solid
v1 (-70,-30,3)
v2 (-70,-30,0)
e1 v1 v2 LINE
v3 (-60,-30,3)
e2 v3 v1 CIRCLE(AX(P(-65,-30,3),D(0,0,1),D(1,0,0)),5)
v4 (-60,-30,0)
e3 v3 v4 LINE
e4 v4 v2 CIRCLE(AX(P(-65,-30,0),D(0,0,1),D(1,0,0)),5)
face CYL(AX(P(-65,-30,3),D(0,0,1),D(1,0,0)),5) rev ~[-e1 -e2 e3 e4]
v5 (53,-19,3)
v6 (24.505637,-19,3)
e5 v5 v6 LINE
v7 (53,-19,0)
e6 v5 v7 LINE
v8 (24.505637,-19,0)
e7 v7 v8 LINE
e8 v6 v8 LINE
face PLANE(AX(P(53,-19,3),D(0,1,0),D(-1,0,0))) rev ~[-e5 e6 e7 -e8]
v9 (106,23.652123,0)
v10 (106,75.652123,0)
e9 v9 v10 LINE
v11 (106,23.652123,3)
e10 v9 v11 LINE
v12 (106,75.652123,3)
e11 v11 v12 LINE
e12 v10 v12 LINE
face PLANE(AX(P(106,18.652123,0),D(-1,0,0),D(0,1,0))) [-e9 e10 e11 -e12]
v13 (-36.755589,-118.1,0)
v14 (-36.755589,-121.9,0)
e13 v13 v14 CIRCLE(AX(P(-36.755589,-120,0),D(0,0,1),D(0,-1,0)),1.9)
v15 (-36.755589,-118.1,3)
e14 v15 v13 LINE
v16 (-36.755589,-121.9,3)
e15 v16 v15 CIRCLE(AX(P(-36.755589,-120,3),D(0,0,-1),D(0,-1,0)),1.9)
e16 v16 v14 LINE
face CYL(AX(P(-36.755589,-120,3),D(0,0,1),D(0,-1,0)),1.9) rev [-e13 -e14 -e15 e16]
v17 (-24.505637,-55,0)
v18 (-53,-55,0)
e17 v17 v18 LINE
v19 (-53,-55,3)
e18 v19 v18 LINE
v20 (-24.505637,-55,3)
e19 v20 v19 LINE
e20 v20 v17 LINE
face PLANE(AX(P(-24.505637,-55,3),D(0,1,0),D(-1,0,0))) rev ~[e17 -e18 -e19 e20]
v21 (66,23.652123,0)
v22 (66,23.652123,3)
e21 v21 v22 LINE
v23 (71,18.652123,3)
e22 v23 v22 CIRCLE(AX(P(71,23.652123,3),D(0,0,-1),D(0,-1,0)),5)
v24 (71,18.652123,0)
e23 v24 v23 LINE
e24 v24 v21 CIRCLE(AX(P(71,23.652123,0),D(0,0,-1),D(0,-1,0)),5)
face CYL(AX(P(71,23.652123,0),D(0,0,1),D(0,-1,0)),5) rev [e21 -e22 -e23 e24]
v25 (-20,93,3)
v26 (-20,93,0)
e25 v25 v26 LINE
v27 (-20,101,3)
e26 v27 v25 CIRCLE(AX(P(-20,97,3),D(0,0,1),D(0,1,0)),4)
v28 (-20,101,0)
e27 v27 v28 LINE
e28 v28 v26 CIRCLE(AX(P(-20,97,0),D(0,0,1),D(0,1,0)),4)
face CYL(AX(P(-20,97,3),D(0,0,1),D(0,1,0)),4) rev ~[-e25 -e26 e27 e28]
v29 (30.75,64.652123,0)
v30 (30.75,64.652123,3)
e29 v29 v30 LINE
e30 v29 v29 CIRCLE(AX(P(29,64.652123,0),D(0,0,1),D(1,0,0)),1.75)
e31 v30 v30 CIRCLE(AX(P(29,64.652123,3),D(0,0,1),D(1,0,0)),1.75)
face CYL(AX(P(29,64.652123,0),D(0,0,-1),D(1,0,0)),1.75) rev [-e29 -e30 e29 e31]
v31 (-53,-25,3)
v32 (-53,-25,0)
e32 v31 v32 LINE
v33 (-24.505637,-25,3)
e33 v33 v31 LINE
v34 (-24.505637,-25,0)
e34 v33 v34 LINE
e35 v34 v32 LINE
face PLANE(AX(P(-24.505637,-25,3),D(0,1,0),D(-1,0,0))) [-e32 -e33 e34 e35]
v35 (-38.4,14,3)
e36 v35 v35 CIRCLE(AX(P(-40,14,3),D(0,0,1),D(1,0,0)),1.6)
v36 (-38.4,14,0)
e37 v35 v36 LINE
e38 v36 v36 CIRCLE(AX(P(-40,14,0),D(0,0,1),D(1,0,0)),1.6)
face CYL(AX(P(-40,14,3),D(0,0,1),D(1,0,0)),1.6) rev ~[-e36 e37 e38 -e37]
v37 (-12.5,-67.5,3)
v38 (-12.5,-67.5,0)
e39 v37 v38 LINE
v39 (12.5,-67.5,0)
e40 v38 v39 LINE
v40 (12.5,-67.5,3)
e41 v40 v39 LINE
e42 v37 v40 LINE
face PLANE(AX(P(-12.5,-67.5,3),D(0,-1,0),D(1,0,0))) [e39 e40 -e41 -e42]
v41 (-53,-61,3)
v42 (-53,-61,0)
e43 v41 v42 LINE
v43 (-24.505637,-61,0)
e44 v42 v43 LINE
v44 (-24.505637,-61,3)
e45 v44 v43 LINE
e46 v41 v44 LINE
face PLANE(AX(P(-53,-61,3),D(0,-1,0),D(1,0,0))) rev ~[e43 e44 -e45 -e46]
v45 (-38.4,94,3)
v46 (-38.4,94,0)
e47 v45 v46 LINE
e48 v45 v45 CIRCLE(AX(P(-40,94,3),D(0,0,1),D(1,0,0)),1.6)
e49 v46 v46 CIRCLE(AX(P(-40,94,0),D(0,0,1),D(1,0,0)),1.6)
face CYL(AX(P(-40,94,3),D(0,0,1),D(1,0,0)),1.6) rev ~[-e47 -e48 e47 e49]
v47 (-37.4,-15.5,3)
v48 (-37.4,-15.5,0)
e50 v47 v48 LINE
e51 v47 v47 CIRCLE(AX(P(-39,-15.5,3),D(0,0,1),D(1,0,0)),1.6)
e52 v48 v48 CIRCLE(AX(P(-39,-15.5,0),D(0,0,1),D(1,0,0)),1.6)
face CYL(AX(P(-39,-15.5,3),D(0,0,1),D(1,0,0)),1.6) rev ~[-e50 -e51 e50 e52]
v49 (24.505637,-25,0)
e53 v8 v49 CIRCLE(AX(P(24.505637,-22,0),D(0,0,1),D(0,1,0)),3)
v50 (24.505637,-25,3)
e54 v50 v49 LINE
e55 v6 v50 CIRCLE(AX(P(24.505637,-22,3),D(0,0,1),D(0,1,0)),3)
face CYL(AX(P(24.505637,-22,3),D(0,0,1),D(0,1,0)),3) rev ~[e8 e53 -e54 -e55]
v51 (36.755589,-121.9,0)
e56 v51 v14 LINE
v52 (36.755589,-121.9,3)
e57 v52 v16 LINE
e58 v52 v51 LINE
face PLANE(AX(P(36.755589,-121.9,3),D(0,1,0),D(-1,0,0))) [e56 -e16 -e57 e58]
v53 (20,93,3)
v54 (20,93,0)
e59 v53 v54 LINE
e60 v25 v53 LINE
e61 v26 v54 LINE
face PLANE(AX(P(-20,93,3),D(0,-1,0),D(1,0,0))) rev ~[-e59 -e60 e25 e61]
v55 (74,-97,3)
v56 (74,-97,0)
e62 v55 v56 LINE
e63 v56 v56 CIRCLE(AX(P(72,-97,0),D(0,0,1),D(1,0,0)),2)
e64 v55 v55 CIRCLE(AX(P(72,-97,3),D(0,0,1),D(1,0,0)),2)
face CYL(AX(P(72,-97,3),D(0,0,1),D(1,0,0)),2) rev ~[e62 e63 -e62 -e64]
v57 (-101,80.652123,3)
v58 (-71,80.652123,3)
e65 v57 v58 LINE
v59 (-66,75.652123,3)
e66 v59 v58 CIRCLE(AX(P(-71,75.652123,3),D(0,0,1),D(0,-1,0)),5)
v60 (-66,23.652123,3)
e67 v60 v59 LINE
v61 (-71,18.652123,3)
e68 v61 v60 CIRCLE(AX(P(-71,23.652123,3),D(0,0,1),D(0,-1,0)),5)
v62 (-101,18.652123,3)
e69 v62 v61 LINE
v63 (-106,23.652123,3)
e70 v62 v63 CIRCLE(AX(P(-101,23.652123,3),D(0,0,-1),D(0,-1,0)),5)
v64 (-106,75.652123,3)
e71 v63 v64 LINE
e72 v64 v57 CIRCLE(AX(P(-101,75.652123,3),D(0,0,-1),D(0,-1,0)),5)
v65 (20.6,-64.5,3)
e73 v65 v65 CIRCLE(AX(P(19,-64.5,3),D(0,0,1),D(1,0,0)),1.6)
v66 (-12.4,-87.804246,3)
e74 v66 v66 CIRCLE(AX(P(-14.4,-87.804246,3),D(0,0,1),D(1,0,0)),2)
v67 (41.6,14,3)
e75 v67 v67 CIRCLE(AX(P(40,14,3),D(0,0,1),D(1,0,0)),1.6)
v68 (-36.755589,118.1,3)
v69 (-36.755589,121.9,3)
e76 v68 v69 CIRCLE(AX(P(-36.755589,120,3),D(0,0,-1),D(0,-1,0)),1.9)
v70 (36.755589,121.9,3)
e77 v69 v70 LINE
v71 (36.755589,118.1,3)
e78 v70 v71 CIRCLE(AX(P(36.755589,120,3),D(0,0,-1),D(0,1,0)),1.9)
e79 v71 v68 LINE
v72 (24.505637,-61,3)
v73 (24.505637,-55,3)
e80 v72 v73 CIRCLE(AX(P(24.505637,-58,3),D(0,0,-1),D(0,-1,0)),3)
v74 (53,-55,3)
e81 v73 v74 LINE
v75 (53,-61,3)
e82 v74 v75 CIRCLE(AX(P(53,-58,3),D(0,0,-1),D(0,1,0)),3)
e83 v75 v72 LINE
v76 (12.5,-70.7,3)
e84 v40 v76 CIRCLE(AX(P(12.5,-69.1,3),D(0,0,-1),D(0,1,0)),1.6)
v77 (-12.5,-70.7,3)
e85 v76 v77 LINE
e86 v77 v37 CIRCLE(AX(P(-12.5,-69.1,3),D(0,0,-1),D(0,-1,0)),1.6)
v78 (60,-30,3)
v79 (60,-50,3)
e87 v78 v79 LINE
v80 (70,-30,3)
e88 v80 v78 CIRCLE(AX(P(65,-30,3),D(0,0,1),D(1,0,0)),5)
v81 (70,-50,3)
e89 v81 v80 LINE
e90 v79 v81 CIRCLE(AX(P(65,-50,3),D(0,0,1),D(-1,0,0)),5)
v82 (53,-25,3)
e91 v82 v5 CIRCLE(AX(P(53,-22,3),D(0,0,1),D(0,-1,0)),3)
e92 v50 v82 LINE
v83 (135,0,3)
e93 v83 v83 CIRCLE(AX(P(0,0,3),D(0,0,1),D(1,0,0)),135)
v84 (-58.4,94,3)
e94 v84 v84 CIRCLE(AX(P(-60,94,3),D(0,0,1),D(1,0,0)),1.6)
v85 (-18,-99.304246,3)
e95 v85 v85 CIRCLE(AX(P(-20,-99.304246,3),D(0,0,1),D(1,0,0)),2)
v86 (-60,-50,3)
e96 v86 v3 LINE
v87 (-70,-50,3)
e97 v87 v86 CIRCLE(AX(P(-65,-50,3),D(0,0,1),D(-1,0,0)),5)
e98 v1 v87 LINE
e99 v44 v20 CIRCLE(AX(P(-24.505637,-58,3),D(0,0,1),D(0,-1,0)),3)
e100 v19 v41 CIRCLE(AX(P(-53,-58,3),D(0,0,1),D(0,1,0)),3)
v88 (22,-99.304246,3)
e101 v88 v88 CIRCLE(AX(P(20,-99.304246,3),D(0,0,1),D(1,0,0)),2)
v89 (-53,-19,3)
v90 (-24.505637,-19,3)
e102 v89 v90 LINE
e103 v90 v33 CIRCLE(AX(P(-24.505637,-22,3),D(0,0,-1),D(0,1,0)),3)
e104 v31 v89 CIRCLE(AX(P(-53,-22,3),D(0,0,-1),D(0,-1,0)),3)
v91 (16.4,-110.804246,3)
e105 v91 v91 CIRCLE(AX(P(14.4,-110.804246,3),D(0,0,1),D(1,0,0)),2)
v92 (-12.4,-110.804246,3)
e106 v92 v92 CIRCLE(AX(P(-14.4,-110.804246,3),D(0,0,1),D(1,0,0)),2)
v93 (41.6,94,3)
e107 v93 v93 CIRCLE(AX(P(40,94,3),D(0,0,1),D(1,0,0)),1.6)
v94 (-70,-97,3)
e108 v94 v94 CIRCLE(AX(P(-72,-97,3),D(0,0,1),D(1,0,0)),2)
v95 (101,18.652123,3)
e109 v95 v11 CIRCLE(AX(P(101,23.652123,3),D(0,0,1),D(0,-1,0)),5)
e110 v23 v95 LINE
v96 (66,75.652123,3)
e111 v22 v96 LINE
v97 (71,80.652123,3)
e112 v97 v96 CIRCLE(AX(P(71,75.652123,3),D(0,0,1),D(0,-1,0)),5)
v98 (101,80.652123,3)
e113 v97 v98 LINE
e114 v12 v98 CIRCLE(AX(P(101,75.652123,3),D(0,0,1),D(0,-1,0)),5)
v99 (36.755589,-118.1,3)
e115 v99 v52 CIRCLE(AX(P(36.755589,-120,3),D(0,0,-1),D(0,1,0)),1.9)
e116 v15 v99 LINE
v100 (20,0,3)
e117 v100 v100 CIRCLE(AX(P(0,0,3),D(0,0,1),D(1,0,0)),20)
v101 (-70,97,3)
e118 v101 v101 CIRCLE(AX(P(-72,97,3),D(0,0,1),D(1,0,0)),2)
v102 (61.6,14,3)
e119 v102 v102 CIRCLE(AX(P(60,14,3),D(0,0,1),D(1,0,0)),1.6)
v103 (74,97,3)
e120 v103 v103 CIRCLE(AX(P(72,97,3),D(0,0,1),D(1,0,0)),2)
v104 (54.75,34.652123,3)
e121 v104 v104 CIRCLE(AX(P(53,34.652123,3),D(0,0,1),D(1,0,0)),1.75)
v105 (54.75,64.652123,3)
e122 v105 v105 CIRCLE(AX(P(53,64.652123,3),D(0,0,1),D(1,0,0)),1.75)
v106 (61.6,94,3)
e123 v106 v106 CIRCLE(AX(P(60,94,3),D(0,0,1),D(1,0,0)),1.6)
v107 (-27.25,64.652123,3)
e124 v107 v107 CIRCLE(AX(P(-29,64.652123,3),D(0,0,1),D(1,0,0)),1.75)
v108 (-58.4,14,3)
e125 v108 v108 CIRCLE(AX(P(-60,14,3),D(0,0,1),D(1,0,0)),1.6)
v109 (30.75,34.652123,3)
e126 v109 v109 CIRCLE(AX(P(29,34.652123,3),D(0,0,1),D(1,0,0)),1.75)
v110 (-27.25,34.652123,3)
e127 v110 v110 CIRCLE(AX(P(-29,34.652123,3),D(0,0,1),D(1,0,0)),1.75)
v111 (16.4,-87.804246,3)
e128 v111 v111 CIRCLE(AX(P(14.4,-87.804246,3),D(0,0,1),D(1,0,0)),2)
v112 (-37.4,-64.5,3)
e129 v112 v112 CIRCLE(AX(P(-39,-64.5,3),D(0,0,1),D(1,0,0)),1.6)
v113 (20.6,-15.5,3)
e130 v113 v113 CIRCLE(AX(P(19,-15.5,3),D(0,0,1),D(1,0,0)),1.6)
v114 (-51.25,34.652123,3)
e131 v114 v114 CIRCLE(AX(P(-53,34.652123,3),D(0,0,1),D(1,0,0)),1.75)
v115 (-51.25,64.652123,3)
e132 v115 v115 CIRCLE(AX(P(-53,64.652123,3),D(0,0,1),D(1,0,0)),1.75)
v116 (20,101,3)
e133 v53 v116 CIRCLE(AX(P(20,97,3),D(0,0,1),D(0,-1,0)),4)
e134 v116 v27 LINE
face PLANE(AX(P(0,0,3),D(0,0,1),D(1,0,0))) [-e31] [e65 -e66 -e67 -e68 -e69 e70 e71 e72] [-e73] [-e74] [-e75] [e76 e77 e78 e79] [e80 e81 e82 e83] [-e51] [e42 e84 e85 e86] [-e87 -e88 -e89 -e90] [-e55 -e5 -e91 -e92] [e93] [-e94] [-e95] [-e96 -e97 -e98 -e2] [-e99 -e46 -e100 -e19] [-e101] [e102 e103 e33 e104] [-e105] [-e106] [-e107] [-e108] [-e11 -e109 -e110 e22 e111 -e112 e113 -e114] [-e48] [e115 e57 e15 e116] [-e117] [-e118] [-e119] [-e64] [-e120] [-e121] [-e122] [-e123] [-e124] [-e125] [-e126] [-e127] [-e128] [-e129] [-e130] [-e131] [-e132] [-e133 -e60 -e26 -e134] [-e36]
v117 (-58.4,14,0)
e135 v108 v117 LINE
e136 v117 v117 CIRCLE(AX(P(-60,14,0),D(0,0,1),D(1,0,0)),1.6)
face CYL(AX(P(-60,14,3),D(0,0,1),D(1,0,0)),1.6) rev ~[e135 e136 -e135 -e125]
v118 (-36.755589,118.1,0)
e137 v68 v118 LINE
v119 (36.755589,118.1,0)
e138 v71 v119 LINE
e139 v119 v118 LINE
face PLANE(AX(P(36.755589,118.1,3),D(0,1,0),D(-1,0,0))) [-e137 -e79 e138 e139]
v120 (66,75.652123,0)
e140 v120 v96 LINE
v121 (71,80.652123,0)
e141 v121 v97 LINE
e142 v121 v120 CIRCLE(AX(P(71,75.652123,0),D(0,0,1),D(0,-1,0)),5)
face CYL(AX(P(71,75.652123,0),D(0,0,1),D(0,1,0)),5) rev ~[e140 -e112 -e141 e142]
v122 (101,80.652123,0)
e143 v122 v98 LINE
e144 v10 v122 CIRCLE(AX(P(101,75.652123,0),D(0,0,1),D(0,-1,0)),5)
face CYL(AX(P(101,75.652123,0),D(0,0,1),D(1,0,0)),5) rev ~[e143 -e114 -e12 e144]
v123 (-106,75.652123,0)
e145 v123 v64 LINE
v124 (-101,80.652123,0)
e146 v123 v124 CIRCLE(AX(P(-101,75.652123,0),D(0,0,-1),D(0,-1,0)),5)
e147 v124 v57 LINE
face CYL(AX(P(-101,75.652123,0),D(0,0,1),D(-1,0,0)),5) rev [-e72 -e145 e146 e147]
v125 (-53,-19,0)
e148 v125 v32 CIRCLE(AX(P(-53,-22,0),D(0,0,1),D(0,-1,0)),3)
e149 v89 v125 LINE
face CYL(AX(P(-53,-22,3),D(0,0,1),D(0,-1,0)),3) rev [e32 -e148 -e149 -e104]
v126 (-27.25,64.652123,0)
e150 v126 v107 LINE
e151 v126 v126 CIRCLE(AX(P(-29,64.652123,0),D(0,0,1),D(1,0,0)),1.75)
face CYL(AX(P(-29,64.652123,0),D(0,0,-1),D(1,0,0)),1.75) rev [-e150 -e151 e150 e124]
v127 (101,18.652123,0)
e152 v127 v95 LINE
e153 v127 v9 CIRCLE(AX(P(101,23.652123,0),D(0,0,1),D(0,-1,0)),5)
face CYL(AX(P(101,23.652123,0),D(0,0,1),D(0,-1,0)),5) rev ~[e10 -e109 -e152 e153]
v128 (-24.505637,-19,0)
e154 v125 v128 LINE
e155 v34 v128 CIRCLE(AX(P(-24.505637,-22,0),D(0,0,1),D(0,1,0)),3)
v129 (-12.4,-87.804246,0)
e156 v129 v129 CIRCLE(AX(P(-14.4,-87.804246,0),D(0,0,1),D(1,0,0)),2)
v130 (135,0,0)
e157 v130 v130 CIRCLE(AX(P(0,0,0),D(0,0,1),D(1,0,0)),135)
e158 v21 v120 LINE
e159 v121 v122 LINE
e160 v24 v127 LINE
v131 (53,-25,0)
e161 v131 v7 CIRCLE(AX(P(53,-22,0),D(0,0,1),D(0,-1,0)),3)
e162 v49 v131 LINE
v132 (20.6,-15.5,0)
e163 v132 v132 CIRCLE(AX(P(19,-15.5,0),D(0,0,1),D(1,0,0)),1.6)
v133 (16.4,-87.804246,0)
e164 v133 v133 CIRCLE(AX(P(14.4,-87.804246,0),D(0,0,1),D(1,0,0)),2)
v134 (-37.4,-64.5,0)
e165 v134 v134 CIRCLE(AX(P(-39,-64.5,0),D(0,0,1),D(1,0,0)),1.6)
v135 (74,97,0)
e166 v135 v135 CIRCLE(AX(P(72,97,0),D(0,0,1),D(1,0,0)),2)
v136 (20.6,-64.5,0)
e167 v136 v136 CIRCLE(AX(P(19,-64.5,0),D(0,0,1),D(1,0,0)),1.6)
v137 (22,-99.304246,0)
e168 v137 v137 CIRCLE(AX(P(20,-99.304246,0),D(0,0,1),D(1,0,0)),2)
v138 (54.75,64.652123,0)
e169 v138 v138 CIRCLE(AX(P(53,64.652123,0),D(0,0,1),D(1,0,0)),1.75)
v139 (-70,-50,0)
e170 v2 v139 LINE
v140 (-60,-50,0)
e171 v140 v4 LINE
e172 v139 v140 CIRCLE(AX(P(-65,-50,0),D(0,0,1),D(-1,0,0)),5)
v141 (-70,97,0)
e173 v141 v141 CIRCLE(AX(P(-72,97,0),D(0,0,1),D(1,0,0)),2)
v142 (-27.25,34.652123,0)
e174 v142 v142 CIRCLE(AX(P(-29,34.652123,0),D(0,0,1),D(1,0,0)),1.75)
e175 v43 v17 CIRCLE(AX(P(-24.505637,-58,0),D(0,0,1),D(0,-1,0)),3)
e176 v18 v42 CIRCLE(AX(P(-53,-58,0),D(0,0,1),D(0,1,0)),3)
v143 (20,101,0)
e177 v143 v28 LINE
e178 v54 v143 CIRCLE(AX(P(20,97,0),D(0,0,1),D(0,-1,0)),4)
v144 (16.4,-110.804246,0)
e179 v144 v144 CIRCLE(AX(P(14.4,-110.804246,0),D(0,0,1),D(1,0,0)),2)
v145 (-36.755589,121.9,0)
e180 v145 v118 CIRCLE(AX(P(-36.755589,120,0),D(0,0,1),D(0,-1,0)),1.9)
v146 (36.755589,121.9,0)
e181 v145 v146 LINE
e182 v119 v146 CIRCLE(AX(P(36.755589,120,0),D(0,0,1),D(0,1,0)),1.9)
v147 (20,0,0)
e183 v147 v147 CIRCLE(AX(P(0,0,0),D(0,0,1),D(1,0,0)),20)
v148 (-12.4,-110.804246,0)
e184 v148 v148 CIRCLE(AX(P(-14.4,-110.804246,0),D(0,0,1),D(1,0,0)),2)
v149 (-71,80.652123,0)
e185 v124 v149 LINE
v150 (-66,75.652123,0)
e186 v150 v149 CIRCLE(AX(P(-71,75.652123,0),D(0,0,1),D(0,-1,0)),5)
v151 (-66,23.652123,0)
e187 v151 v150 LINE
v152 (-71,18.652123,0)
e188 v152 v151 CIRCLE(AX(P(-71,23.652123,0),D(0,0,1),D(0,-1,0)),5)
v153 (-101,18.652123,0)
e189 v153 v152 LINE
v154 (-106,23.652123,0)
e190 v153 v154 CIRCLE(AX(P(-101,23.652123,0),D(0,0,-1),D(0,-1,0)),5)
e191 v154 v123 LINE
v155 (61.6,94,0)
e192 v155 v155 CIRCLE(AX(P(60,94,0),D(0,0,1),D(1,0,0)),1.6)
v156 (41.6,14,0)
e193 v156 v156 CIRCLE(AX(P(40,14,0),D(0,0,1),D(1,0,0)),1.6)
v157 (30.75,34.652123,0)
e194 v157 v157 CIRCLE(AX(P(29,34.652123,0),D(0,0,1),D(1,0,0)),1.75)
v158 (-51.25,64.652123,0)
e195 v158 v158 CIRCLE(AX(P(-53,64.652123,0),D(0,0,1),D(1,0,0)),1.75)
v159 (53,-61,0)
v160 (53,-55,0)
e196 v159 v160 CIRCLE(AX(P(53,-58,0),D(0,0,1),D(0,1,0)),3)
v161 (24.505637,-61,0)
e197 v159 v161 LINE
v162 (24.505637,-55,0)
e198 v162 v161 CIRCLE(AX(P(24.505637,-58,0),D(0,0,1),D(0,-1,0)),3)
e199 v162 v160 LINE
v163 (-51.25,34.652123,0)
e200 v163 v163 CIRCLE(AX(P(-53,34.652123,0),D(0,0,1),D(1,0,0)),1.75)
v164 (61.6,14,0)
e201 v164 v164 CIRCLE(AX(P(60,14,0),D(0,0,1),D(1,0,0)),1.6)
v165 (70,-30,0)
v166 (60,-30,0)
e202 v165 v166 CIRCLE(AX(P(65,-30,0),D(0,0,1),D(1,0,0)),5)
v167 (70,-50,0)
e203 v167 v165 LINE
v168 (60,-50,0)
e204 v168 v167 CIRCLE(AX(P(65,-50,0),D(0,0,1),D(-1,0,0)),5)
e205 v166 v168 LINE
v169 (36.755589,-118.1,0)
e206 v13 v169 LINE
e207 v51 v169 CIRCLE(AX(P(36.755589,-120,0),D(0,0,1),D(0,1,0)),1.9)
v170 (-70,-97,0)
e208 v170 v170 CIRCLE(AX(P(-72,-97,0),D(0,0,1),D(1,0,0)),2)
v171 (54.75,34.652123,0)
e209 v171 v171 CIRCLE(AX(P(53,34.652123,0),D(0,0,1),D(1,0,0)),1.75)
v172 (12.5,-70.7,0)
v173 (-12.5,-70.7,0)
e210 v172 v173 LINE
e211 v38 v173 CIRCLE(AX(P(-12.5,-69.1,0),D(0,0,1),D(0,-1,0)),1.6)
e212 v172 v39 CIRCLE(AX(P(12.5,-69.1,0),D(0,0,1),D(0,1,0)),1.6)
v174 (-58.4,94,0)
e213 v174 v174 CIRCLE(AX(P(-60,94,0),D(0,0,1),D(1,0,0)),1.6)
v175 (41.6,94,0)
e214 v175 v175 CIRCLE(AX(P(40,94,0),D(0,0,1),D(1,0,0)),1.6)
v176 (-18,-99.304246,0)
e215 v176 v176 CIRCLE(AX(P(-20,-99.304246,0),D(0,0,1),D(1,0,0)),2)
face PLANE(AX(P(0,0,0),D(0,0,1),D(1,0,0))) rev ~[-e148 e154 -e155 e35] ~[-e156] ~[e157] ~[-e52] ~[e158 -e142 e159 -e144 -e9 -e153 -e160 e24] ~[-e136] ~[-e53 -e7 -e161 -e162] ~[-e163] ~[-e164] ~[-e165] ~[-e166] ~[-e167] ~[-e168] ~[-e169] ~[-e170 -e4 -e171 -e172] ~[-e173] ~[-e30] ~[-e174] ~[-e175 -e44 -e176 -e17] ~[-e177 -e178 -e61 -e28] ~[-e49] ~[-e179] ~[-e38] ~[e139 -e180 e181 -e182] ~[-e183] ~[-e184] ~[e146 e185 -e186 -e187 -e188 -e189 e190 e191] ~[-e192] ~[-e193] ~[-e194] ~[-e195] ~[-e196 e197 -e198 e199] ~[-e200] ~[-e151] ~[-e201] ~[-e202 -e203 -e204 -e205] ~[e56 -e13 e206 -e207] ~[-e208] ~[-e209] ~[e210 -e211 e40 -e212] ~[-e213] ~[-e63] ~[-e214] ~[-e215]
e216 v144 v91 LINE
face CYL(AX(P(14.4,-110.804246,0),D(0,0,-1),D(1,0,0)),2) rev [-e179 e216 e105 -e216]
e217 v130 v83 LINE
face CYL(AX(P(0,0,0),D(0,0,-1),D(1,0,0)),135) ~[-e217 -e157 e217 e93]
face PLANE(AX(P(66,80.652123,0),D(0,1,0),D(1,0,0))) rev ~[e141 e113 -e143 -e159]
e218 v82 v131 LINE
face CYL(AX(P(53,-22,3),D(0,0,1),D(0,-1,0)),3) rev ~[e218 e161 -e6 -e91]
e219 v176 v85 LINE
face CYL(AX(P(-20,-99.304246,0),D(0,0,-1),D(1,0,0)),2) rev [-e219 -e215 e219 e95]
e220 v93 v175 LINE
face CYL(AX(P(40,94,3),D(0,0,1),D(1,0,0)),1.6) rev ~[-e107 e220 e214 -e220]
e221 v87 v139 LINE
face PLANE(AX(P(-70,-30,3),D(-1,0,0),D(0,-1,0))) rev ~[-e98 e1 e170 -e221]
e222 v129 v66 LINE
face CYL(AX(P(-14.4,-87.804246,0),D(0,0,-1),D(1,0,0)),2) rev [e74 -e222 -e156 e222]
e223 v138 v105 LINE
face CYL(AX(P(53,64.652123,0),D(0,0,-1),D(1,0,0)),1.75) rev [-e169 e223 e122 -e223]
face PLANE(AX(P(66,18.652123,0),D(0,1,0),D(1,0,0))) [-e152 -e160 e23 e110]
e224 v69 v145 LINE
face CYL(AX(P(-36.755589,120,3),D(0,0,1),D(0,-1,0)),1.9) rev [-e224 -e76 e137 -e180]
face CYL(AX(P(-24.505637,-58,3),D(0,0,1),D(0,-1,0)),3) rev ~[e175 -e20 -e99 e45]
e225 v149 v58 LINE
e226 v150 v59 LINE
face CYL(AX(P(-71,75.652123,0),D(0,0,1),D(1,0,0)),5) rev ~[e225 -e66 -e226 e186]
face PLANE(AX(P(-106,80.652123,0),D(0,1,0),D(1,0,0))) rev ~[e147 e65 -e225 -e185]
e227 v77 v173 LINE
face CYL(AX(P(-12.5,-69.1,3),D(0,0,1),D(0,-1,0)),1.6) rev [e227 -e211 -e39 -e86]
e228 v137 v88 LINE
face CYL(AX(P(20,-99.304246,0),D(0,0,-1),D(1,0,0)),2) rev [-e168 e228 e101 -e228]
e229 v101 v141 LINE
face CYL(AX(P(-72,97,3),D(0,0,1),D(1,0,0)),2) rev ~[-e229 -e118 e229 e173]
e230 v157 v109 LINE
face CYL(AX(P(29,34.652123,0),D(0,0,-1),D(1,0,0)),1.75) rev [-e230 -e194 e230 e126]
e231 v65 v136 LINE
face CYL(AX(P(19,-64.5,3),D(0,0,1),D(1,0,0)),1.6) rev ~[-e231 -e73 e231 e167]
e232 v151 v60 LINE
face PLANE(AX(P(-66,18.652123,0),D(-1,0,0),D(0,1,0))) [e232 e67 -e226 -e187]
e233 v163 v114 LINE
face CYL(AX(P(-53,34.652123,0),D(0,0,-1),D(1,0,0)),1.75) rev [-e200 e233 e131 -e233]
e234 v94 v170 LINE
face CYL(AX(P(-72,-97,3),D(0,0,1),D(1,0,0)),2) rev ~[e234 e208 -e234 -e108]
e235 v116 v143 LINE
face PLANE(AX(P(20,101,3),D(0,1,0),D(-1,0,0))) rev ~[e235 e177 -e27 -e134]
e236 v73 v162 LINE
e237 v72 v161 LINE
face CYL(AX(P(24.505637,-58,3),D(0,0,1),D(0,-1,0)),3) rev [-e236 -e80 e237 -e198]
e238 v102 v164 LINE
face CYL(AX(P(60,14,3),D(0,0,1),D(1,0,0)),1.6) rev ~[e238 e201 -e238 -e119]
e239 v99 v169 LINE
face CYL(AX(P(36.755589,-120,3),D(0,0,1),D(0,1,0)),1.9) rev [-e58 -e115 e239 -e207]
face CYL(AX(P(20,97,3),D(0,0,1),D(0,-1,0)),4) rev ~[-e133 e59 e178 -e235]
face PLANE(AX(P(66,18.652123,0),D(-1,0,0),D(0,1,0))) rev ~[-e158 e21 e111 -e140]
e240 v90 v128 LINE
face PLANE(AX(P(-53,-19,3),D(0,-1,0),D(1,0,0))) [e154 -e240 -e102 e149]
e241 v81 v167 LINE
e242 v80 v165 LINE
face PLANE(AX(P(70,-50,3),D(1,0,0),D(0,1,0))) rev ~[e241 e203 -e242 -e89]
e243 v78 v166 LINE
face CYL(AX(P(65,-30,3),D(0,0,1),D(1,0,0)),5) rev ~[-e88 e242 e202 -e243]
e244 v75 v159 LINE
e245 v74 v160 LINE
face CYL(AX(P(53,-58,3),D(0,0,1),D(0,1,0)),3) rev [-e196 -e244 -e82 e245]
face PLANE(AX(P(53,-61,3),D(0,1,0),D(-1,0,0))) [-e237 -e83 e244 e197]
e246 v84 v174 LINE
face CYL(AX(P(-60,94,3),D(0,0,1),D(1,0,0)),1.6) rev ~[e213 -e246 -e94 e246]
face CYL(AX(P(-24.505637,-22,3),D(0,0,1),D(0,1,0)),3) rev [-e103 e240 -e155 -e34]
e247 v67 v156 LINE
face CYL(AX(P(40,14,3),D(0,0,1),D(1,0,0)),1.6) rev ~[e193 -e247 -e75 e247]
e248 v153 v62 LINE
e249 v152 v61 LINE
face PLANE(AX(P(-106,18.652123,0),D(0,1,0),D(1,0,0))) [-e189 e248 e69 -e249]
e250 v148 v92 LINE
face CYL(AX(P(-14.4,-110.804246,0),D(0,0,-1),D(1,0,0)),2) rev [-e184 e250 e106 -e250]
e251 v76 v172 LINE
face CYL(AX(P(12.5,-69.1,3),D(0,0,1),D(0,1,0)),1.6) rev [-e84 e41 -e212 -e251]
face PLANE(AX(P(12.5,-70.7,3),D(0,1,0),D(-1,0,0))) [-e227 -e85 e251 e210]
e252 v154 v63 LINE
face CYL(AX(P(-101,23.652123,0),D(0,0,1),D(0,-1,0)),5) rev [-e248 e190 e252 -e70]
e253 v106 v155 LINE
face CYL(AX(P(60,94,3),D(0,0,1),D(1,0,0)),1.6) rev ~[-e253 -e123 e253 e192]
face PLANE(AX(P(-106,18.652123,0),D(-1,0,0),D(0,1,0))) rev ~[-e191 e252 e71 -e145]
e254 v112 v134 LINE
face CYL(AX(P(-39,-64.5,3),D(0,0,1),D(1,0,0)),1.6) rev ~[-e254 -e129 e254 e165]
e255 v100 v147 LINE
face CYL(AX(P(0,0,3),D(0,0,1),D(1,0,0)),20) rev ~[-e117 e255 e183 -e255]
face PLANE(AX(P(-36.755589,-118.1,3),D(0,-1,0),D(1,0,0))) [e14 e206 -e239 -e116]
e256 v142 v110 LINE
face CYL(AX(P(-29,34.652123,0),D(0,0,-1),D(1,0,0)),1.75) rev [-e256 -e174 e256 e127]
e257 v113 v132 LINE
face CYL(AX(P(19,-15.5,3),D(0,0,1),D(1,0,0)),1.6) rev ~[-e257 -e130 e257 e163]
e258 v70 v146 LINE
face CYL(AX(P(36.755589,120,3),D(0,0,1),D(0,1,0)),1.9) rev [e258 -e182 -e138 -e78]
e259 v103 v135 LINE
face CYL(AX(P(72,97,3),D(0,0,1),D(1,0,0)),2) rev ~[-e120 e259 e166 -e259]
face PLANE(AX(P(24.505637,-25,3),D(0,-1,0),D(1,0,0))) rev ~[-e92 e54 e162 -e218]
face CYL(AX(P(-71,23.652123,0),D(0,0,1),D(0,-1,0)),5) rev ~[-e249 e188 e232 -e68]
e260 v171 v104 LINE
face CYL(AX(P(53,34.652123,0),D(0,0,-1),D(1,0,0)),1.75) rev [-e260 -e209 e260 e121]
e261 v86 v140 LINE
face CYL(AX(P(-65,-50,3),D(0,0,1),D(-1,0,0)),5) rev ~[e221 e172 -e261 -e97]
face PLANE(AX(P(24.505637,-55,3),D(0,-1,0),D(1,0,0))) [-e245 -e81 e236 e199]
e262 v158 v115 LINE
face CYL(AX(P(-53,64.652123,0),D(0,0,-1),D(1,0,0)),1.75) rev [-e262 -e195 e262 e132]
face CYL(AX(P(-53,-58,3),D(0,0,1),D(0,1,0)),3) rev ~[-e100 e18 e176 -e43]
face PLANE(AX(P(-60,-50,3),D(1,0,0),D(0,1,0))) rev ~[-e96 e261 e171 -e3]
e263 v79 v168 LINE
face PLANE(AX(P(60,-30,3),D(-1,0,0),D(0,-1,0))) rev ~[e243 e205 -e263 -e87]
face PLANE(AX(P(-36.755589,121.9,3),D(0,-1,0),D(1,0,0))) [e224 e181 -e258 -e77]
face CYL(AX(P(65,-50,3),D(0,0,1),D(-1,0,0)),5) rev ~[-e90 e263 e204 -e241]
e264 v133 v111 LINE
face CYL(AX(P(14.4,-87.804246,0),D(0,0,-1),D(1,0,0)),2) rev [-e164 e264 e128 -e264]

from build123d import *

# Parameters (mm, degrees)
SKETCH_1_R          = 135
SKETCH_1_R_2        = 2
SKETCH_1_W          = 40
SKETCH_1_H          = 62
SKETCH_1_R_3        = 1.75
EXTRUDE_1_DEPTH     = 3
FILLET_1_R          = 5
SKETCH_2_R          = 20
SKETCH_2_R_2        = 2
SKETCH_2_R_3        = 1.6
CUT_EXTRUDE_1_DEPTH = 10


with BuildPart() as part:
    # 草图1 → 凸台-拉伸1 (new body)
    with BuildSketch(Plane.XY):
        Circle(SKETCH_1_R)
        with Locations((-14.4, -110.804246301)):
            Circle(SKETCH_1_R_2, mode=Mode.SUBTRACT)
        with Locations((-20, -99.304246301)):
            Circle(SKETCH_1_R_2, mode=Mode.SUBTRACT)
        with Locations((-14.4, -87.804246301)):
            Circle(SKETCH_1_R_2, mode=Mode.SUBTRACT)
        with Locations((14.4, -110.804246301)):
            Circle(SKETCH_1_R_2, mode=Mode.SUBTRACT)
        with Locations((14.4, -87.804246301)):
            Circle(SKETCH_1_R_2, mode=Mode.SUBTRACT)
        with Locations((20, -99.304246301)):
            Circle(SKETCH_1_R_2, mode=Mode.SUBTRACT)
        with Locations((-86, 49.65212315)):
            Rectangle(SKETCH_1_W, SKETCH_1_H, mode=Mode.SUBTRACT)
        with Locations((-53, 34.65212315)):
            Circle(SKETCH_1_R_3, mode=Mode.SUBTRACT)
        with Locations((-53, 64.65212315)):
            Circle(SKETCH_1_R_3, mode=Mode.SUBTRACT)
        with Locations((-29, 34.65212315)):
            Circle(SKETCH_1_R_3, mode=Mode.SUBTRACT)
        with Locations((-29, 64.65212315)):
            Circle(SKETCH_1_R_3, mode=Mode.SUBTRACT)
        with Locations((29, 34.65212315)):
            Circle(SKETCH_1_R_3, mode=Mode.SUBTRACT)
        with Locations((29, 64.65212315)):
            Circle(SKETCH_1_R_3, mode=Mode.SUBTRACT)
        with Locations((53, 34.65212315)):
            Circle(SKETCH_1_R_3, mode=Mode.SUBTRACT)
        with Locations((53, 64.65212315)):
            Circle(SKETCH_1_R_3, mode=Mode.SUBTRACT)
        with Locations((86, 49.65212315)):
            Rectangle(SKETCH_1_W, SKETCH_1_H, mode=Mode.SUBTRACT)
    extrude(amount=EXTRUDE_1_DEPTH)

    # 圆角1
    fillet_1_edges = [part.edges().sort_by_distance(p)[0] for p in [
        (66, 80.65212315, 1.5),
        (66, 18.65212315, 1.5),
        (106, 18.65212315, 1.5),
        (106, 80.65212315, 1.5),
        (-106, 80.65212315, 1.5),
        (-106, 18.65212315, 1.5),
        (-66, 18.65212315, 1.5),
        (-66, 80.65212315, 1.5),
    ]]
    fillet(fillet_1_edges, radius=FILLET_1_R)

    # 草图2 → 切除-拉伸1 (cut)
    with BuildSketch(Plane.XY.offset(3)):
        Circle(SKETCH_2_R)
        with Locations((-72, 97)):
            Circle(SKETCH_2_R_2)
        with Locations((72, 97)):
            Circle(SKETCH_2_R_2)
        with Locations((72, -97)):
            Circle(SKETCH_2_R_2)
        with Locations((-72, -97)):
            Circle(SKETCH_2_R_2)
        with Locations((-60, 94)):
            Circle(SKETCH_2_R_3)
        with Locations((-60, 14)):
            Circle(SKETCH_2_R_3)
        with Locations((-40, 94)):
            Circle(SKETCH_2_R_3)
        with Locations((-40, 14)):
            Circle(SKETCH_2_R_3)
        with Locations((60, 14)):
            Circle(SKETCH_2_R_3)
        with Locations((60, 94)):
            Circle(SKETCH_2_R_3)
        with Locations((40, 94)):
            Circle(SKETCH_2_R_3)
        with Locations((40, 14)):
            Circle(SKETCH_2_R_3)
        with Locations((-39, -15.5)):
            Circle(SKETCH_2_R_3)
        with Locations((19, -15.5)):
            Circle(SKETCH_2_R_3)
        with Locations((-39, -64.5)):
            Circle(SKETCH_2_R_3)
        with Locations((19, -64.5)):
            Circle(SKETCH_2_R_3)
        with BuildLine():
            Line((24.505636669, -55), (53, -55))
            ThreePointArc((53, -55), (56, -58), (53, -61))
            Line((53, -61), (24.505636669, -61))
            ThreePointArc((24.505636669, -61), (21.505636669, -58), (24.505636669, -55))
        make_face()
        with BuildLine():
            Line((-53, -19), (-24.505636669, -19))
            ThreePointArc((-24.505636669, -19), (-21.505636669, -22), (-24.505636669, -25))
            Line((-24.505636669, -25), (-53, -25))
            ThreePointArc((-53, -25), (-56, -22), (-53, -19))
        make_face()
        with BuildLine():
            Line((-53, -61), (-24.505636669, -61))
            ThreePointArc((-24.505636669, -61), (-21.505636669, -58), (-24.505636669, -55))
            Line((-24.505636669, -55), (-53, -55))
            ThreePointArc((-53, -55), (-56, -58), (-53, -61))
        make_face()
        with BuildLine():
            Line((24.505636669, -25), (53, -25))
            ThreePointArc((53, -25), (56, -22), (53, -19))
            Line((53, -19), (24.505636669, -19))
            ThreePointArc((24.505636669, -19), (21.505636669, -22), (24.505636669, -25))
        make_face()
        with BuildLine():
            Line((-70, -30), (-70, -50))
            ThreePointArc((-70, -50), (-65, -55), (-60, -50))
            Line((-60, -50), (-60, -30))
            ThreePointArc((-60, -30), (-65, -25), (-70, -30))
        make_face()
        with BuildLine():
            Line((60, -30), (60, -50))
            ThreePointArc((60, -50), (65, -55), (70, -50))
            Line((70, -50), (70, -30))
            ThreePointArc((70, -30), (65, -25), (60, -30))
        make_face()
        with BuildLine():
            Line((-36.755588957, 121.9), (36.755588957, 121.9))
            ThreePointArc((36.755588957, 121.9), (38.655588957, 120), (36.755588957, 118.1))
            Line((36.755588957, 118.1), (-36.755588957, 118.1))
            ThreePointArc((-36.755588957, 118.1), (-38.655588957, 120), (-36.755588957, 121.9))
        make_face()
        with BuildLine():
            Line((-36.755588957, -118.1), (36.755588957, -118.1))
            ThreePointArc((36.755588957, -118.1), (38.655588957, -120), (36.755588957, -121.9))
            Line((36.755588957, -121.9), (-36.755588957, -121.9))
            ThreePointArc((-36.755588957, -121.9), (-38.655588957, -120), (-36.755588957, -118.1))
        make_face()
        with BuildLine():
            Line((12.5, -70.7), (-12.5, -70.7))
            ThreePointArc((-12.5, -70.7), (-14.1, -69.1), (-12.5, -67.5))
            Line((-12.5, -67.5), (12.5, -67.5))
            ThreePointArc((12.5, -67.5), (14.1, -69.1), (12.5, -70.7))
        make_face()
        with BuildLine():
            Line((20, 101), (-20, 101))
            ThreePointArc((-20, 101), (-24, 97), (-20, 93))
            Line((-20, 93), (20, 93))
            ThreePointArc((20, 93), (24, 97), (20, 101))
        make_face()
    extrude(amount=-CUT_EXTRUDE_1_DEPTH, mode=Mode.SUBTRACT)


solid = part.part
